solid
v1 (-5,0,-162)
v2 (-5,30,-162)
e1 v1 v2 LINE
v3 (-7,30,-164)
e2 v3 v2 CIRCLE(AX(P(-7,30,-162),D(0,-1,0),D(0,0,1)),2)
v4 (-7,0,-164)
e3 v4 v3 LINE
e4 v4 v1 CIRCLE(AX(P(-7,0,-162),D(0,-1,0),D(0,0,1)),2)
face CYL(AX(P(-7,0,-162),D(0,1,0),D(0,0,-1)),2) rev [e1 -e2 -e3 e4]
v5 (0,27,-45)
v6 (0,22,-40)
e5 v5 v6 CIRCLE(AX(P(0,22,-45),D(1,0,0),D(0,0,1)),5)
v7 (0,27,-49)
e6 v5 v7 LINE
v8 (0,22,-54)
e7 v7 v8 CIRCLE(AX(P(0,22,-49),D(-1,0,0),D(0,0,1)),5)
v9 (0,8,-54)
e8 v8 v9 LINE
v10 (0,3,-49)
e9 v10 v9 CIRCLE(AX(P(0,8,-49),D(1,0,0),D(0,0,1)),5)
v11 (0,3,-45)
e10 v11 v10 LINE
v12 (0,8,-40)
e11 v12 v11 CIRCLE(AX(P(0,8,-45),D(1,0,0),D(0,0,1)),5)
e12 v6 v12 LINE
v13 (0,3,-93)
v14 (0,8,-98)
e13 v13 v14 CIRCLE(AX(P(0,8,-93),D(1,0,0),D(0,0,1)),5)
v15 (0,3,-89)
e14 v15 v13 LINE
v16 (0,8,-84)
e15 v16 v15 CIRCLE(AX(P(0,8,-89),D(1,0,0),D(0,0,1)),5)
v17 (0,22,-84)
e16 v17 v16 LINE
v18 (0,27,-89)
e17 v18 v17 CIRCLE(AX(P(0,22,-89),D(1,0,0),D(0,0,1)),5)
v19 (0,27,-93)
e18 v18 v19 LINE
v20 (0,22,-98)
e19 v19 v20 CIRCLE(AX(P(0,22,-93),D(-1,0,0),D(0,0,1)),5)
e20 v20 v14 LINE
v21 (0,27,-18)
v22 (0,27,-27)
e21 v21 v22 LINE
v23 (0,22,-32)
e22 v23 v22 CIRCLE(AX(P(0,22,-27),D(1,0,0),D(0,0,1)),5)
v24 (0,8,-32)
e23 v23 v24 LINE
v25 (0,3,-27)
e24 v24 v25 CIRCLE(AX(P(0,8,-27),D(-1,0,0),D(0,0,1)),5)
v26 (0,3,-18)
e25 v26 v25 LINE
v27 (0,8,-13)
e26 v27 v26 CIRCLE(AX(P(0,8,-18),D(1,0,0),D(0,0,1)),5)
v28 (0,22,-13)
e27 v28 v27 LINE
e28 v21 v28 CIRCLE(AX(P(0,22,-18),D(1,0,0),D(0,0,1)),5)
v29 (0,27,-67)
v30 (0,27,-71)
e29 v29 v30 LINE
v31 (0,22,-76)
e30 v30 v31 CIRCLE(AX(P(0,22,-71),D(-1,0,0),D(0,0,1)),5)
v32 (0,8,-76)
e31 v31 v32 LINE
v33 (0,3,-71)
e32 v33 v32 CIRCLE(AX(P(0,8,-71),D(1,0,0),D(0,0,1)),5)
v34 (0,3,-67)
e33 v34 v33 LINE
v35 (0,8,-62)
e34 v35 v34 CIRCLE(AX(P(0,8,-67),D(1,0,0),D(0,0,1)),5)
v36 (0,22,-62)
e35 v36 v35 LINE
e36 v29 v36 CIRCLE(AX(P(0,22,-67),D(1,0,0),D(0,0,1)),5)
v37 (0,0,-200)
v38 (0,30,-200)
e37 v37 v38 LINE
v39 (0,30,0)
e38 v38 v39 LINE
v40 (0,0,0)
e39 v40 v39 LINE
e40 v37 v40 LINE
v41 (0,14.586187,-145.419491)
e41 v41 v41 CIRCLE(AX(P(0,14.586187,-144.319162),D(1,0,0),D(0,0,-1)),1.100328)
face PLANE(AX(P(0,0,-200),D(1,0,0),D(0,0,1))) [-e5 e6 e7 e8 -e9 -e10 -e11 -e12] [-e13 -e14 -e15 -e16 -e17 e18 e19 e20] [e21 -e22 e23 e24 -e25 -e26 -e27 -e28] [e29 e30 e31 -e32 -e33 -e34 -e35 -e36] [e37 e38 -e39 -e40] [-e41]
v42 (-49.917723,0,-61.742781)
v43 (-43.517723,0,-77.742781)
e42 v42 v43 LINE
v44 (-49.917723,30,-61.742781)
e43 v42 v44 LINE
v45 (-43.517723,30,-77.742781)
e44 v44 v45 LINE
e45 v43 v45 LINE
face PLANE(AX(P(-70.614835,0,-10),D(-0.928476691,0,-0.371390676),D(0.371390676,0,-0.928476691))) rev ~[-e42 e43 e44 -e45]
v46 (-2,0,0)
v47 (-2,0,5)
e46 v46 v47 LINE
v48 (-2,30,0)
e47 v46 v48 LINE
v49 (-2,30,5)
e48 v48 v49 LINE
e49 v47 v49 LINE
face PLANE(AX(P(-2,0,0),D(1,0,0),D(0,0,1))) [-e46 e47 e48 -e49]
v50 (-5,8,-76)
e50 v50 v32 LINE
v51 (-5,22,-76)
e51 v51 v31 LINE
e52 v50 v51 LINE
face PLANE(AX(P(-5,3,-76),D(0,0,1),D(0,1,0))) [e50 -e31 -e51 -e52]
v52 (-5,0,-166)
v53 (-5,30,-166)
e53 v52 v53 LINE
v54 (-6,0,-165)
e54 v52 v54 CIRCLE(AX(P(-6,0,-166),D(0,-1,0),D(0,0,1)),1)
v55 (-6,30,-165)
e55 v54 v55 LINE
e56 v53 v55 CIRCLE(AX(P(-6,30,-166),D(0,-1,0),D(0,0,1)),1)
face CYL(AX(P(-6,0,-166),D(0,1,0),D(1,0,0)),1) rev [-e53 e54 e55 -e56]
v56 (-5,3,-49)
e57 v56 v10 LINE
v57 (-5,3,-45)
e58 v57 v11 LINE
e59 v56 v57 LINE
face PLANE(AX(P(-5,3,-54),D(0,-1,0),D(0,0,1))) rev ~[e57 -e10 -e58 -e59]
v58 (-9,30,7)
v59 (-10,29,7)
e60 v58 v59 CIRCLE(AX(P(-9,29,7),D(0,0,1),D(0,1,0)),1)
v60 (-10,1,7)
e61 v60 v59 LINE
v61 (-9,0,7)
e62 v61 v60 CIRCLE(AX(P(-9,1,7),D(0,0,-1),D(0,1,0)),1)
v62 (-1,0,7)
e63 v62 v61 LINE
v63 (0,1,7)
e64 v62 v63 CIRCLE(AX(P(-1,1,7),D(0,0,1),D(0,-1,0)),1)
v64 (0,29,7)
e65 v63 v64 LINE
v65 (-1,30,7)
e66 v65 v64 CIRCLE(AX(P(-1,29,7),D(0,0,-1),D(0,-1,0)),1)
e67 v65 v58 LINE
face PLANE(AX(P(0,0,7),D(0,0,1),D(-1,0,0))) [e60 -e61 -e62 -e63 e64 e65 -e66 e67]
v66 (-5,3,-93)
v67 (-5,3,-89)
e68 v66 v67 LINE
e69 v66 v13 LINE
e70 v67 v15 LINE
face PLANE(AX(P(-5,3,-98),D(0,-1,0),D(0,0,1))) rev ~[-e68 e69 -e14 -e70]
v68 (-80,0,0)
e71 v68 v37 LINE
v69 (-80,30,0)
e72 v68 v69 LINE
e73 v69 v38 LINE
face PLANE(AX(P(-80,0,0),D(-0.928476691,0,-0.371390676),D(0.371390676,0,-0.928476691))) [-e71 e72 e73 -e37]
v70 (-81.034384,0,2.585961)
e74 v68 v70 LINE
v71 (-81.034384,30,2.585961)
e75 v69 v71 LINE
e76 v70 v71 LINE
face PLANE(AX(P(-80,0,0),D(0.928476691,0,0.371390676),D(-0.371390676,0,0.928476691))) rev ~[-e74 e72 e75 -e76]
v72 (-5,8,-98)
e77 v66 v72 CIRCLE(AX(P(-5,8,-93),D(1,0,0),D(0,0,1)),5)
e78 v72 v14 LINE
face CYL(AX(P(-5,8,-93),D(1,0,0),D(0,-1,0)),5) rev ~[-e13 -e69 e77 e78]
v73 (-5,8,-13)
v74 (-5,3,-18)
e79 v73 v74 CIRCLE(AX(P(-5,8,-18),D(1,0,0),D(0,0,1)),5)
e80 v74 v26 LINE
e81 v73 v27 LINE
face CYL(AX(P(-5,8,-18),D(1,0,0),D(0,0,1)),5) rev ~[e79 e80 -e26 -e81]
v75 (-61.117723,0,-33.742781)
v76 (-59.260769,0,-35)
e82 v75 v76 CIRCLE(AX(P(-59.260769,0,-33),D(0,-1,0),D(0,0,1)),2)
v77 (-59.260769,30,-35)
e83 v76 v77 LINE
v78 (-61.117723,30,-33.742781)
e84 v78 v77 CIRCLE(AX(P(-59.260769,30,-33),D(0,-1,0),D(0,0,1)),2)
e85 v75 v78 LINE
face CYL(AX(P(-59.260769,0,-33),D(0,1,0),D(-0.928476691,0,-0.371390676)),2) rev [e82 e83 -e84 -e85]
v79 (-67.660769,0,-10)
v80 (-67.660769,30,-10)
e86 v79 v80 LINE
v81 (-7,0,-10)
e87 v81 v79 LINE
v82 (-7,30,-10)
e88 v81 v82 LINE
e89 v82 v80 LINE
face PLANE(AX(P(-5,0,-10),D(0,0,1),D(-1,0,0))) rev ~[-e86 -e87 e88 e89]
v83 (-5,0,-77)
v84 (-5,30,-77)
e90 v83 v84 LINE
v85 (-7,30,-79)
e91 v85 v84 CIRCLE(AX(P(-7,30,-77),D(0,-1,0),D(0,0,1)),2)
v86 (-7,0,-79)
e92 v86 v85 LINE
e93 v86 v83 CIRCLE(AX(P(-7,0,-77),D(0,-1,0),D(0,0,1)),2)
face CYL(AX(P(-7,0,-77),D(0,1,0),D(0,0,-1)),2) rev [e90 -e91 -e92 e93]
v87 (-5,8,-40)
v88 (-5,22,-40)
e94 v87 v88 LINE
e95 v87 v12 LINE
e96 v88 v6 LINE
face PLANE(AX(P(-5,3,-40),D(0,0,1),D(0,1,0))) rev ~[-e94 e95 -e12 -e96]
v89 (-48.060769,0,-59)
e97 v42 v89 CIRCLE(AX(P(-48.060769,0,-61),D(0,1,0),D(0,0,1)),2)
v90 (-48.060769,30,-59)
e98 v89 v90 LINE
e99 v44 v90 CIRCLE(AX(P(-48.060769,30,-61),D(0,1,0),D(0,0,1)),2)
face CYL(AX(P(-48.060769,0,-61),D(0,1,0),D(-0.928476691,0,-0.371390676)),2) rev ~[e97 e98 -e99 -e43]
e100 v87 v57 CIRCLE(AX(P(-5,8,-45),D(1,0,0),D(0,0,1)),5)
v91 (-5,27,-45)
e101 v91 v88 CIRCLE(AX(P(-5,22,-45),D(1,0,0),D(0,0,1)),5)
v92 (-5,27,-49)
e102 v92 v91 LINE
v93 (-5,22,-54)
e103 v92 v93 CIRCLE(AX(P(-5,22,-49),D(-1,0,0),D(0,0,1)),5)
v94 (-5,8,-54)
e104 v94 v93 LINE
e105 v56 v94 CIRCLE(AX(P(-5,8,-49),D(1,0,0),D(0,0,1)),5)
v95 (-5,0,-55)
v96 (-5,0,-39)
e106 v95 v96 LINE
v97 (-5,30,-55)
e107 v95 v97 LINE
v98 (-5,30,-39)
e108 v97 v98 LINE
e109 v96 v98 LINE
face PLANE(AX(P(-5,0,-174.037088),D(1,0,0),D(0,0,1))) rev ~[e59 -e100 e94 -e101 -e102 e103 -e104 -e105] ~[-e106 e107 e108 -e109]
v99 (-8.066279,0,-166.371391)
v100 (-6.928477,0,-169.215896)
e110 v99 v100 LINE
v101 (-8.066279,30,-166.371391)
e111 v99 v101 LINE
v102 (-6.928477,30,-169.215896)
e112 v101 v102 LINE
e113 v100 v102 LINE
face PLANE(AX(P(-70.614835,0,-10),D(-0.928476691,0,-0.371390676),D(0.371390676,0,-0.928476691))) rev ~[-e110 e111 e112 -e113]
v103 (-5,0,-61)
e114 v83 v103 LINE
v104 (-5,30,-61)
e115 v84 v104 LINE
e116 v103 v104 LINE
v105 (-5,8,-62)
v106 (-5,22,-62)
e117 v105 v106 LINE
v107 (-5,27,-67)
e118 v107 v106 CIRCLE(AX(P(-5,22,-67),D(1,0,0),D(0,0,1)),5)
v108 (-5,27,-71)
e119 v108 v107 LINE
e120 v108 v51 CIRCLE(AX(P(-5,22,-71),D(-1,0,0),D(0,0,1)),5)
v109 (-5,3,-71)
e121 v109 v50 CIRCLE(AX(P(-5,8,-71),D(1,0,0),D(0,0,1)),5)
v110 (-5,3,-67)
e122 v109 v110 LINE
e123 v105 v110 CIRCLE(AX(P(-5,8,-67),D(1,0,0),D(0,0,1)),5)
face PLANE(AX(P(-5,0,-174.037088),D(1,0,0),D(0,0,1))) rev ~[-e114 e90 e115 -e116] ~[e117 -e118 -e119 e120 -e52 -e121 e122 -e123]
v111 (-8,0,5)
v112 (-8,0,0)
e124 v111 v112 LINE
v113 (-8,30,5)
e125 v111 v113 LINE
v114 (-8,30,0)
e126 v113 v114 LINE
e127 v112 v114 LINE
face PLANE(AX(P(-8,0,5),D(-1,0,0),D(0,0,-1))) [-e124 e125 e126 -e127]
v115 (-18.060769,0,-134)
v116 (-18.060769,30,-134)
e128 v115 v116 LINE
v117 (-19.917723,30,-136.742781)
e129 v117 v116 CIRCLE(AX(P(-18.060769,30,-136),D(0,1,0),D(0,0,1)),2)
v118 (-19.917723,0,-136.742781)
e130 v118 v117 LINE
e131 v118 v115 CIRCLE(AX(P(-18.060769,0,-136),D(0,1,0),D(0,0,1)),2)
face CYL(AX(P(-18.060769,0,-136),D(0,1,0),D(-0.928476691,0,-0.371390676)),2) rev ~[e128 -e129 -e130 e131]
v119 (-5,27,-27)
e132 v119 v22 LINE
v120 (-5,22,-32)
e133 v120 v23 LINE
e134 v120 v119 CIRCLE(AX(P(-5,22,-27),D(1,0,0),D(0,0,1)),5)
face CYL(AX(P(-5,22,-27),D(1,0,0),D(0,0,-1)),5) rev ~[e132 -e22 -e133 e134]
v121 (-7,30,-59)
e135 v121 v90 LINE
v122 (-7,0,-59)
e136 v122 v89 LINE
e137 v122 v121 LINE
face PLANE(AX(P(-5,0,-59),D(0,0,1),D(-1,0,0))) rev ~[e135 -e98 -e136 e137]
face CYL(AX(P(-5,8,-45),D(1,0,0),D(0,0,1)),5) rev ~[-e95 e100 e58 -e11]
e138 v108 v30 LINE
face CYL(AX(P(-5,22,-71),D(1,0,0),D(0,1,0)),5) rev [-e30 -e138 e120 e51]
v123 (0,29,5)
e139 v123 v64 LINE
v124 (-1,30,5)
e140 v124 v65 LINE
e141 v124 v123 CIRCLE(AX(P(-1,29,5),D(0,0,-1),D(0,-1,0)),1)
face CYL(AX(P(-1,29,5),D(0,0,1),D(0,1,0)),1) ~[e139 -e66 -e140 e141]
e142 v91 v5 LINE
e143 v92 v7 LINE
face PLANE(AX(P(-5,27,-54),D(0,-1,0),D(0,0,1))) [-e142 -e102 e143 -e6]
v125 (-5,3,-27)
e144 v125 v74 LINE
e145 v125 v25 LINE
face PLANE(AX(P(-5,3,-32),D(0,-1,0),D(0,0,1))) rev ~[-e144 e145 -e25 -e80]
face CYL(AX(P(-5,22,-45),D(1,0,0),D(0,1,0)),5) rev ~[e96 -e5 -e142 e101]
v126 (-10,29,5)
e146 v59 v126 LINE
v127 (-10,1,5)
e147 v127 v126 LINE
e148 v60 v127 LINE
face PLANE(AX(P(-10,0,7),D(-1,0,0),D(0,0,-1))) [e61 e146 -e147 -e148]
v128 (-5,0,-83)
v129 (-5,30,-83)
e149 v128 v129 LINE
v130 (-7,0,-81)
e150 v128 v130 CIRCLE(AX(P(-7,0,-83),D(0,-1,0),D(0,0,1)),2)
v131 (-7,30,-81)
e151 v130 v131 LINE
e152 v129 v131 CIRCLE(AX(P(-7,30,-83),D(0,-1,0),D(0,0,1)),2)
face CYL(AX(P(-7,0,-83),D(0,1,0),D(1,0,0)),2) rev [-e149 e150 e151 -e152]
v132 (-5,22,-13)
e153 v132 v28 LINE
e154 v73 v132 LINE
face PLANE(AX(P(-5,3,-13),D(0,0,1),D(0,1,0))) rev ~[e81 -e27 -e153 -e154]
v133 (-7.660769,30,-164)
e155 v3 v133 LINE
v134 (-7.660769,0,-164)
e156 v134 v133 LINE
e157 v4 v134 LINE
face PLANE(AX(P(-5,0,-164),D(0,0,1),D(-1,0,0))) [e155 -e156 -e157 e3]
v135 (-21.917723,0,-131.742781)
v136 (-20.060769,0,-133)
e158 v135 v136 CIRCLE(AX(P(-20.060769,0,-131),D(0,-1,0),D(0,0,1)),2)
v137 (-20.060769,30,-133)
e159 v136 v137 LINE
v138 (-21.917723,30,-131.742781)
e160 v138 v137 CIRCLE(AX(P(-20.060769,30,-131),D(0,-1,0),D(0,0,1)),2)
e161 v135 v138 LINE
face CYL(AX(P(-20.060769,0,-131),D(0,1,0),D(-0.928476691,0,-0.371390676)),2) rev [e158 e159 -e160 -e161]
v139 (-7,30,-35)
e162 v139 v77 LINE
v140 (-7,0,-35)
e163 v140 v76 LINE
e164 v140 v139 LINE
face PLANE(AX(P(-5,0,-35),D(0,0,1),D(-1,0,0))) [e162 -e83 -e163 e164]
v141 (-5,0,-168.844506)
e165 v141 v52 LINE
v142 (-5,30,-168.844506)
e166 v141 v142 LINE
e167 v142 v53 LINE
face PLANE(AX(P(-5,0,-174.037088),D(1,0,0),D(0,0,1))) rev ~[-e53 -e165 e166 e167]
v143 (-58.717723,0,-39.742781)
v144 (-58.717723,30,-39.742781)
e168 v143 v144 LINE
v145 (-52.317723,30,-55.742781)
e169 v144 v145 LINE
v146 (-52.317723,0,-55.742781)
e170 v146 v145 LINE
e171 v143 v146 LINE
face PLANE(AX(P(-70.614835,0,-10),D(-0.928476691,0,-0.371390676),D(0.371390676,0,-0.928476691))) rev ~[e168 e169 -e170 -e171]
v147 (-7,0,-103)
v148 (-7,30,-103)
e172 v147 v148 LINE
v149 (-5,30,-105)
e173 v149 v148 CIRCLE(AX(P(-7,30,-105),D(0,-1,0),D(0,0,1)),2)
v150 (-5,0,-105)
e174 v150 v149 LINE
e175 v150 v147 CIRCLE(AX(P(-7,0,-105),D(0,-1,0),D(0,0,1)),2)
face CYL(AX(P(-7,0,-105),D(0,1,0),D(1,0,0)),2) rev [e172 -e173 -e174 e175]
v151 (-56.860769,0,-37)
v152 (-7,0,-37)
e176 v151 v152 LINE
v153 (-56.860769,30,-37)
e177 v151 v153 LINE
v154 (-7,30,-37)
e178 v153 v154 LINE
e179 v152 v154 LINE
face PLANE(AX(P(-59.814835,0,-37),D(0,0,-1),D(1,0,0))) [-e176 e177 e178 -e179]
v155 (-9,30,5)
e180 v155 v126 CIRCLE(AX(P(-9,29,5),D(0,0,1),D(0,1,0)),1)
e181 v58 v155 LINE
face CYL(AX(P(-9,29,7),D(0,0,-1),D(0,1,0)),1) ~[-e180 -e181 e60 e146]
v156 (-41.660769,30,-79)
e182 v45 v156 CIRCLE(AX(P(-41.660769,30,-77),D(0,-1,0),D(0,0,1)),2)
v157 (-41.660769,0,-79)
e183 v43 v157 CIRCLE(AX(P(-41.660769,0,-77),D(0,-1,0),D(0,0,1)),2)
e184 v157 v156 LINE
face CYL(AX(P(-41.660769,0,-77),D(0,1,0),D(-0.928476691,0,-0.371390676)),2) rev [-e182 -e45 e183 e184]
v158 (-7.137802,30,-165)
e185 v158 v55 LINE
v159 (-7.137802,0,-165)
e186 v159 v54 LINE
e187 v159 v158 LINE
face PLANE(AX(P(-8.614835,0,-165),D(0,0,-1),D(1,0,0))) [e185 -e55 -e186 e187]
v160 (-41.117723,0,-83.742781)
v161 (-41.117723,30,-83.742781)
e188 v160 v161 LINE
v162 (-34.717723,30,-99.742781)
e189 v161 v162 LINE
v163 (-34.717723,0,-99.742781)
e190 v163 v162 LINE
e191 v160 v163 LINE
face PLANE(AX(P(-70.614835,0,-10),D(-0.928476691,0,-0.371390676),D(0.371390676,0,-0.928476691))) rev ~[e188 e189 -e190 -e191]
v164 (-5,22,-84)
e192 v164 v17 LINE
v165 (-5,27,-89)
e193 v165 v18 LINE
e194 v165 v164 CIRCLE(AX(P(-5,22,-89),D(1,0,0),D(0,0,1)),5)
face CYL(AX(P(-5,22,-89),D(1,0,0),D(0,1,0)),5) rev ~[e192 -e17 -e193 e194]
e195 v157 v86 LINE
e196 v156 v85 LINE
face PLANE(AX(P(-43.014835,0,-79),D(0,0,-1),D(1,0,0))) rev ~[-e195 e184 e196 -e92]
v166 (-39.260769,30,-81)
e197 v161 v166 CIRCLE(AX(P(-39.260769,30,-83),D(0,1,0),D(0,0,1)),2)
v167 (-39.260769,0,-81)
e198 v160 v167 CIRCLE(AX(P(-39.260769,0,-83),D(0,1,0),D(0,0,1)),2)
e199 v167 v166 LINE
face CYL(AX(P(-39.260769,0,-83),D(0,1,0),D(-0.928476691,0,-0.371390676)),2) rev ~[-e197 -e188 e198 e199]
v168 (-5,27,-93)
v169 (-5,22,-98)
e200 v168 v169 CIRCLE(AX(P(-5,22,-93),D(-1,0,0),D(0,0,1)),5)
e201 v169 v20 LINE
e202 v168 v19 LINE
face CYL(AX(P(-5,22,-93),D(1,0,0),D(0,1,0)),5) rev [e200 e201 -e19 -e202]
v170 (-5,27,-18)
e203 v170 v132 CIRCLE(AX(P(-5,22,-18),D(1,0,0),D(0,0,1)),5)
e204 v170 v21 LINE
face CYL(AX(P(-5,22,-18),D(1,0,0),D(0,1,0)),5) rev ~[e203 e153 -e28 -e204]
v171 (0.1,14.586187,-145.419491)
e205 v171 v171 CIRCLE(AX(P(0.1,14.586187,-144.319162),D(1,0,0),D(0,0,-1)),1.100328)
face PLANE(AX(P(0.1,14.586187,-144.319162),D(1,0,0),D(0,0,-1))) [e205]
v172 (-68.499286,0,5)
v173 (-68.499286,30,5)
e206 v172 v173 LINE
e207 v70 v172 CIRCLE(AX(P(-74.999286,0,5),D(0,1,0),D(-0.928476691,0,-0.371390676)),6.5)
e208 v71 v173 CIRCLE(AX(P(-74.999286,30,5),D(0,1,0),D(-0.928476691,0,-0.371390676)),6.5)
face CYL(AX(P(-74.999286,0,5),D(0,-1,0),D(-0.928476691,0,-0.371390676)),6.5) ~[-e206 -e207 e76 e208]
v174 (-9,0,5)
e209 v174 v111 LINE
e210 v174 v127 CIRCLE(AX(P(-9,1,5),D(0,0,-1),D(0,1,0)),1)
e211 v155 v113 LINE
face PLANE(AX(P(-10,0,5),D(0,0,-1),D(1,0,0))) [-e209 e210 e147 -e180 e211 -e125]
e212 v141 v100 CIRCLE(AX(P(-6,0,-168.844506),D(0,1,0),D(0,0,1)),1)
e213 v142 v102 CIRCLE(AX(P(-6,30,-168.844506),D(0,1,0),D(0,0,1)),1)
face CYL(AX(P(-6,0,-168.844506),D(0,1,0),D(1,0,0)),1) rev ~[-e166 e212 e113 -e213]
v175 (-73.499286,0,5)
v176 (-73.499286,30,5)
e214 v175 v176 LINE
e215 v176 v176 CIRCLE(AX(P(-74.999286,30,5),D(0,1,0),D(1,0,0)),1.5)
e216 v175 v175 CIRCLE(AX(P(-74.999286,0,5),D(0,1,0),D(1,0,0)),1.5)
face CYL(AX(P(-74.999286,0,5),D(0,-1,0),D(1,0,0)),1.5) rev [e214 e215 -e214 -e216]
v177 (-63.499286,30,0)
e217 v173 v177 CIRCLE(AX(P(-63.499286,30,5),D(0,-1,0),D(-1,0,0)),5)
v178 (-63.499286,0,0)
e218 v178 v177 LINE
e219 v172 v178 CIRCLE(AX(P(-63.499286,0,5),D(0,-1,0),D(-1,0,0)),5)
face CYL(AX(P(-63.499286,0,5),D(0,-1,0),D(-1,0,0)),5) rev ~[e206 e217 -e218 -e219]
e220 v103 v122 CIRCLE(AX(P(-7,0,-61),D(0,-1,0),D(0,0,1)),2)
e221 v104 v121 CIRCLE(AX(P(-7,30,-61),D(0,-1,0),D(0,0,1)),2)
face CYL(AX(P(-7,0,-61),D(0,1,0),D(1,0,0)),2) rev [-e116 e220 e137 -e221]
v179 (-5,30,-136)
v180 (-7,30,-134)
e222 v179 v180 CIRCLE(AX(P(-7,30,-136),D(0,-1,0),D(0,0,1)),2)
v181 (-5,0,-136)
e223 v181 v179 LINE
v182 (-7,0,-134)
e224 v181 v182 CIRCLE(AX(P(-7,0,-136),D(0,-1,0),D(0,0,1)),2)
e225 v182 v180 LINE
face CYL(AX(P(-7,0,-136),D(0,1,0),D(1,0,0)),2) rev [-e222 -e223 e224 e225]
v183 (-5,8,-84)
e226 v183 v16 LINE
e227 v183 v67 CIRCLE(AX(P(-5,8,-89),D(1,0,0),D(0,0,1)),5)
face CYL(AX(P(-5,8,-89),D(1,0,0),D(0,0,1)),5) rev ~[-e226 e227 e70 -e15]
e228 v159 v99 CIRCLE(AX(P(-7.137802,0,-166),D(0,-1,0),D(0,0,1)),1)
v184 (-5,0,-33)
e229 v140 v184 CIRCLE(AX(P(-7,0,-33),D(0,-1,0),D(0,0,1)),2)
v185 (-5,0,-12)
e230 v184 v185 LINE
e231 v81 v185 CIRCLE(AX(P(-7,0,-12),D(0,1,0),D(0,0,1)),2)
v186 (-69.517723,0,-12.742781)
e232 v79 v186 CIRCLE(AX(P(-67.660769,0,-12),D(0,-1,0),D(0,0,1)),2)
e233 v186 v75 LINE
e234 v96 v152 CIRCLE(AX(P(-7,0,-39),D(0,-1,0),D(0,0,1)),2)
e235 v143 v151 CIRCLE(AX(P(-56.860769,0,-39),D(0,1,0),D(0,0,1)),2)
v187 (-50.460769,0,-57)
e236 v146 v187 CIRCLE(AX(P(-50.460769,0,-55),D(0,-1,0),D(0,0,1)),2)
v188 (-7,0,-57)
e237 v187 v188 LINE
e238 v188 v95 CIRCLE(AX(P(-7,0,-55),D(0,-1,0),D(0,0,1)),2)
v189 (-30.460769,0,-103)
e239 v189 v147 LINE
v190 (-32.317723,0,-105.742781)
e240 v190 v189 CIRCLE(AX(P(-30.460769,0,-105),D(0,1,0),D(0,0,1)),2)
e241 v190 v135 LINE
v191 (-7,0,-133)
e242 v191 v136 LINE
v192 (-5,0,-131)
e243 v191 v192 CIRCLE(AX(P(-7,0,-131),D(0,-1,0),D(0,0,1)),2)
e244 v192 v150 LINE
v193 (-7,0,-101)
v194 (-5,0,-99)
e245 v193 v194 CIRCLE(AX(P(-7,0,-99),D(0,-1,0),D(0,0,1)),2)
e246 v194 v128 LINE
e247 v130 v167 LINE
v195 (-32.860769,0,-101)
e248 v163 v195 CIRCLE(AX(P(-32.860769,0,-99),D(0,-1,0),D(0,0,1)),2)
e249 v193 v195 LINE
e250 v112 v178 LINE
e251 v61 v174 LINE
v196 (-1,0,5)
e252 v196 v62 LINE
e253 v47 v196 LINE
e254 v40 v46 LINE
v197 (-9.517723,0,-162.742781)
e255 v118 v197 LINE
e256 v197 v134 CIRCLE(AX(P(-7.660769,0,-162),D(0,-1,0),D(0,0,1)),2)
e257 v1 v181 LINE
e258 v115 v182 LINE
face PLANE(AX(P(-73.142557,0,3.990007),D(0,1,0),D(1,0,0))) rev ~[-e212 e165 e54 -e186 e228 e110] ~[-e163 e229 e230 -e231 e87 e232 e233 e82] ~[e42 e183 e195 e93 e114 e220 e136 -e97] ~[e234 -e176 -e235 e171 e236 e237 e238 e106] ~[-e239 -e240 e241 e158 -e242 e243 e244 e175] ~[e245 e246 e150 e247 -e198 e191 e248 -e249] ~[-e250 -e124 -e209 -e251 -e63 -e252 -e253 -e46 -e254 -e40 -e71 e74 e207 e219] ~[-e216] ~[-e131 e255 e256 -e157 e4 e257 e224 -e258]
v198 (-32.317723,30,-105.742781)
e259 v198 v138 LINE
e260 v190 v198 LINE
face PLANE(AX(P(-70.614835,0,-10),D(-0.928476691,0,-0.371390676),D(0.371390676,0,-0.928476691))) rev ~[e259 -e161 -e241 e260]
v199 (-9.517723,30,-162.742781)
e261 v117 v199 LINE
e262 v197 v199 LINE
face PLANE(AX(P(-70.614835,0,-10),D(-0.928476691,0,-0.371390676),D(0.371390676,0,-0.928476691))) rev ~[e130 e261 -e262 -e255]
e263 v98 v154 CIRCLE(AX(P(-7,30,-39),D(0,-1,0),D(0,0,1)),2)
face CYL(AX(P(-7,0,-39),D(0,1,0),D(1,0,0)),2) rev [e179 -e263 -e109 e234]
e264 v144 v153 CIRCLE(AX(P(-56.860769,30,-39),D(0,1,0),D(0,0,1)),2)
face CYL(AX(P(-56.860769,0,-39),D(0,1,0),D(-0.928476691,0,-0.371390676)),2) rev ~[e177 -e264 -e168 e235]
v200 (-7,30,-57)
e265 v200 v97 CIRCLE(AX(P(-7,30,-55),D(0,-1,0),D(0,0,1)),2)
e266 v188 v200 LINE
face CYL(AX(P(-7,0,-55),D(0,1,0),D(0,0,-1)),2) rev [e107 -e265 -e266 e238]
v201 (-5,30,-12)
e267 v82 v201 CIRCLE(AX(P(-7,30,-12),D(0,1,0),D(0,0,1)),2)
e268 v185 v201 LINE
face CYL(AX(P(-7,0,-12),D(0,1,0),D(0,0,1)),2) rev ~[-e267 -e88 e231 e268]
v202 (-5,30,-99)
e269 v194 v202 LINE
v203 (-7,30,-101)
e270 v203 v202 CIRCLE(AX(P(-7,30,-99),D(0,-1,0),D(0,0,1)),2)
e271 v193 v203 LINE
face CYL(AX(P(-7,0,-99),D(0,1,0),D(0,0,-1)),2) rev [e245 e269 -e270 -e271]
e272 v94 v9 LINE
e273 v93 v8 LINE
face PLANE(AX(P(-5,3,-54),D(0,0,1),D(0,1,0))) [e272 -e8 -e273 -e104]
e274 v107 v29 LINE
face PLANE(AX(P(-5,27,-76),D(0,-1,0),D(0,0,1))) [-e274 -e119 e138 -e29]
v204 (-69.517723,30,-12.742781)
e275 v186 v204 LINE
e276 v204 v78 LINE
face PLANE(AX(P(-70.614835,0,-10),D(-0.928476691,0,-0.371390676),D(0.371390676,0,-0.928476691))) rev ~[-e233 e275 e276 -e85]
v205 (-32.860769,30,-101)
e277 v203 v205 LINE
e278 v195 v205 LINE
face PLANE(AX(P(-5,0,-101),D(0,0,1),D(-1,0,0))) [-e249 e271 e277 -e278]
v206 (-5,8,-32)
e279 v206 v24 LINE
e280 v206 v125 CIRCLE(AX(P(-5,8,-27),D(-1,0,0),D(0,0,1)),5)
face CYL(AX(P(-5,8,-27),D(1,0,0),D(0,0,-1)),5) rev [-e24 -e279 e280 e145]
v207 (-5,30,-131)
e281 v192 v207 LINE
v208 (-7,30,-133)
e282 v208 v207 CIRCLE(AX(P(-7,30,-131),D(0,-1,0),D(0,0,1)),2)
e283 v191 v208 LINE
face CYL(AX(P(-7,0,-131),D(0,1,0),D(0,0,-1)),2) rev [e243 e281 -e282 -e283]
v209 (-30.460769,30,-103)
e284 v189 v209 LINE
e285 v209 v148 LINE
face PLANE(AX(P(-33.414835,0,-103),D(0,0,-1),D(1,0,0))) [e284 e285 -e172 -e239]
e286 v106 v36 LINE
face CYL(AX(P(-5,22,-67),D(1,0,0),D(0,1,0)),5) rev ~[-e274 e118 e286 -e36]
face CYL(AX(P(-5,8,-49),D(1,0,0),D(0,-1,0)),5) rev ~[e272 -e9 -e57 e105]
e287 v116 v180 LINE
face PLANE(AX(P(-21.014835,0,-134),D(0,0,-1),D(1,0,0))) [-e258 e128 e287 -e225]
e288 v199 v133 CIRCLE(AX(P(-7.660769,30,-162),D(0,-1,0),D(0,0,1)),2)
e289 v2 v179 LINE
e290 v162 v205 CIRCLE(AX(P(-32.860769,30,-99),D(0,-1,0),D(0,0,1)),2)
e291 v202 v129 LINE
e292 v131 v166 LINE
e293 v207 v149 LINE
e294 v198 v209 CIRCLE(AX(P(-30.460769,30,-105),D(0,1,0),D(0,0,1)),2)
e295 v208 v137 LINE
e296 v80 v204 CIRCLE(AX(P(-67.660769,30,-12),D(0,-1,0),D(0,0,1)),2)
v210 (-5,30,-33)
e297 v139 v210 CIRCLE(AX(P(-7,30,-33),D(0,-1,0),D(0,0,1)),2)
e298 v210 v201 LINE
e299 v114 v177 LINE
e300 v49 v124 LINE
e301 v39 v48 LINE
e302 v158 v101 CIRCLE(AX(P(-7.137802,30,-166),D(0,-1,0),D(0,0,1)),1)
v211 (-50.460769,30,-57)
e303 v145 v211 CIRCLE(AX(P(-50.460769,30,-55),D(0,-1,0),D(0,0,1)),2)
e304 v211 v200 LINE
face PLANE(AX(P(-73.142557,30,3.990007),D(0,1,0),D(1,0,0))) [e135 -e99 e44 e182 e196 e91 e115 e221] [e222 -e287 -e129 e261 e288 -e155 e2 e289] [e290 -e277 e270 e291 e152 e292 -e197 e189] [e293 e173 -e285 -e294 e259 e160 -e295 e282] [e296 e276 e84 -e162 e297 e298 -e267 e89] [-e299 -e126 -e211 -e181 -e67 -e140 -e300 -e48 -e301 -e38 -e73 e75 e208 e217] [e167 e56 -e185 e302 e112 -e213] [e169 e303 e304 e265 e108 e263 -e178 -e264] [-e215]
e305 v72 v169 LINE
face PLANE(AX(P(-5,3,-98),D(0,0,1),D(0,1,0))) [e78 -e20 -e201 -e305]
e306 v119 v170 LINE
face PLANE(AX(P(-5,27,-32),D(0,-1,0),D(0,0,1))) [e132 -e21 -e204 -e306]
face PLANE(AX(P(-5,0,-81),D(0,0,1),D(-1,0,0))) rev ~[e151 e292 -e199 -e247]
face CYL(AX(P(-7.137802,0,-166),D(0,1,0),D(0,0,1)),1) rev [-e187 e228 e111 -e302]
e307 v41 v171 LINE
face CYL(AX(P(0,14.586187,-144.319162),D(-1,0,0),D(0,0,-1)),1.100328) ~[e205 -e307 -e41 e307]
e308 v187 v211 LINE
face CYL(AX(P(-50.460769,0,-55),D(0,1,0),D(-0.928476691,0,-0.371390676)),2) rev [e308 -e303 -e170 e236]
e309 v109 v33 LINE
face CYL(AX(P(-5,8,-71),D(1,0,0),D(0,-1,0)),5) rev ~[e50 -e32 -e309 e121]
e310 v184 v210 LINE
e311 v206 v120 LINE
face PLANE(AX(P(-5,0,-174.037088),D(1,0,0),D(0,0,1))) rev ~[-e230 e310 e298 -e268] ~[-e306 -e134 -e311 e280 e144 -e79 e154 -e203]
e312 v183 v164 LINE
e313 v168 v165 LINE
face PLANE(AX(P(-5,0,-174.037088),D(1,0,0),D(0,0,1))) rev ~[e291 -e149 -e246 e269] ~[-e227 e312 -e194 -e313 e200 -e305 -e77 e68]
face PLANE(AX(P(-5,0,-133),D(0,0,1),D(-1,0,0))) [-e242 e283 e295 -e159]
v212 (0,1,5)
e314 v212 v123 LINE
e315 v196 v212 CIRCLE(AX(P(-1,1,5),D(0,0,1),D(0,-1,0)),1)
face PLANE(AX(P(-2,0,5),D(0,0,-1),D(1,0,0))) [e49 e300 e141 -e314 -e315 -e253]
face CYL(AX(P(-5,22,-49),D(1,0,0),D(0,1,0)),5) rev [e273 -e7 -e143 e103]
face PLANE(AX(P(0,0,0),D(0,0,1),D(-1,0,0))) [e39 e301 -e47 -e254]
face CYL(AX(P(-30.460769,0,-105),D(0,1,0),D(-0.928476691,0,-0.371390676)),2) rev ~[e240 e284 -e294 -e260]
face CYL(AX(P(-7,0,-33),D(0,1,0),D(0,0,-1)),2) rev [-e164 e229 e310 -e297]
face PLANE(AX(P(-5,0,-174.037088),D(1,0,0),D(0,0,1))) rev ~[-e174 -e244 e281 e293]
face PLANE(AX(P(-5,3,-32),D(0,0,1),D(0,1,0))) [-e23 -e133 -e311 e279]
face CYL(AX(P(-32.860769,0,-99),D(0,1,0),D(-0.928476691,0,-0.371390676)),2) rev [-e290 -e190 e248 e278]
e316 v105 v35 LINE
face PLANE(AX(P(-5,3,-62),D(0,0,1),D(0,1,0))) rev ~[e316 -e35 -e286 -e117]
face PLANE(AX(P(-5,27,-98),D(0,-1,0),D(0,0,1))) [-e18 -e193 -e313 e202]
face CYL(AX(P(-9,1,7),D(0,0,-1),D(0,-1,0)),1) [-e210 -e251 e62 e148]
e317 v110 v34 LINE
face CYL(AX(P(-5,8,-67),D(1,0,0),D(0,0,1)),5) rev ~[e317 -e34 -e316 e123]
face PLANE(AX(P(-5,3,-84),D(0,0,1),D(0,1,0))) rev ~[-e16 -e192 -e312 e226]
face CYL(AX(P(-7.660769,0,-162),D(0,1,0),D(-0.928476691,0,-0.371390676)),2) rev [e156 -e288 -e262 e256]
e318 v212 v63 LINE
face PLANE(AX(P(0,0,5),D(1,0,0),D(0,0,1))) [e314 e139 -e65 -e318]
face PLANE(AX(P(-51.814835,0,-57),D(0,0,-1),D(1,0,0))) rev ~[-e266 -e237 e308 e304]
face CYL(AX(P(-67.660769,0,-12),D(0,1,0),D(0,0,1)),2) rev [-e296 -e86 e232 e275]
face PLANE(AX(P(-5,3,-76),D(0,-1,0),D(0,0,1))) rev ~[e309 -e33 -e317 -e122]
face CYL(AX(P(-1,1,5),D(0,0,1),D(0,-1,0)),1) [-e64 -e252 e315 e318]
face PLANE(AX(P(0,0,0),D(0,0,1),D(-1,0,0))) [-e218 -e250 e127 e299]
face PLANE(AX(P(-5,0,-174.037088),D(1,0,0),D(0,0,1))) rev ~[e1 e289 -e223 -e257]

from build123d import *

# Parameters (mm, degrees)
BOSS_EXTRUDE1_DEPTH = 30
BOSS_EXTRUDE2_DEPTH = 30
SKETCH3_R           = 1.5
BOSS_EXTRUDE3_DEPTH = 30
SKETCH4_R           = 1.100328426
BOSS_EXTRUDE4_DEPTH = 0.1
SKETCH5_W           = 14
SKETCH5_H           = 24
SKETCH5_W_2         = 19
CUT_EXTRUDE1_DEPTH  = 6.1
FILLET1_R           = 2
FILLET2_R           = 1
FILLET3_R           = 5
FILLET4_R           = 1


with BuildPart() as part:
    # Sketch1 → Boss-Extrude1 (new body)
    with BuildSketch(Plane(origin=(0, 0, 0), x_dir=(1, 0, 0), z_dir=(0, 1, 0))):
        Polygon((0, 0), (-80, 0), (0, 200), align=None)
        Polygon((-5, 10), (-70.614835193, 10), (-5, 174.037087982), align=None, mode=Mode.SUBTRACT)
    extrude(amount=BOSS_EXTRUDE1_DEPTH)

    # Sketch2 → Boss-Extrude2 (add)
    with BuildSketch(Plane(origin=(0, 0, 0), x_dir=(1, 0, 0), z_dir=(0, 1, 0))):
        Polygon((-5, 35), (-60.614835193, 35), (-59.814835193, 37), (-5, 37), align=None)
        Polygon((-51.014835193, 59), (-51.814835193, 57), (-5, 57), (-5, 59), align=None)
        Polygon((-43.014835193, 79), (-5, 79), (-5, 81), (-42.214835193, 81), align=None)
        Polygon((-34.214835193, 101), (-33.414835193, 103), (-5, 103), (-5, 101), align=None)
        Polygon((-21.414835193, 133), (-21.014835193, 134), (-5, 134), (-5, 133), align=None)
        Polygon((-9.014835193, 164), (-8.614835193, 165), (-5, 165), (-5, 164), align=None)
    extrude(amount=BOSS_EXTRUDE2_DEPTH)

    # Sketch3 → Boss-Extrude3 (add)
    with BuildSketch(Plane(origin=(0, 0, 0), x_dir=(1, 0, 0), z_dir=(0, 1, 0))):
        Polygon((-2, 0), (-2, -5), (0, -5), (0, -7), (-10, -7), (-10, -5), (-8, -5), (-8, 0), align=None)
        with BuildLine():
            Line((-80, 0), (-81.034384241, -2.585960604))
            ThreePointArc((-81.034384241, -2.585960604), (-76.228484638, -11.382716514), (-68.499285751, -5))
            ThreePointArc((-68.499285751, -5), (-67.034819657, -1.464466094), (-63.499285751, 0))
            Line((-63.499285751, 0), (-80, 0))
        make_face()
        with Locations((-74.999285751, -5)):
            Circle(SKETCH3_R, mode=Mode.SUBTRACT)
    extrude(amount=BOSS_EXTRUDE3_DEPTH)

    # Sketch4 → Boss-Extrude4 (add)
    with BuildSketch(Plane(origin=(0, 0, 0), x_dir=(0, 0, -1), z_dir=(1, 0, 0))):
        with Locations((144.319162345, 14.586186638)):
            Circle(SKETCH4_R)
    extrude(amount=BOSS_EXTRUDE4_DEPTH)

    # Sketch5 → Cut-Extrude1 (cut, through all)
    with BuildSketch(Plane.ZY.offset(5)):
        with Locations((-91, 15)):
            Rectangle(SKETCH5_W, SKETCH5_H)
        with Locations((-69, 15)):
            Rectangle(SKETCH5_W, SKETCH5_H)
        with Locations((-47, 15)):
            Rectangle(SKETCH5_W, SKETCH5_H)
        with Locations((-22.5, 15)):
            Rectangle(SKETCH5_W_2, SKETCH5_H)
    extrude(amount=-CUT_EXTRUDE1_DEPTH, mode=Mode.SUBTRACT)

    # Fillet1
    fillet1_edges = [part.edges().sort_by_distance(p)[0] for p in [
        (-5, 15, -10),
        (-70.614835193, 15, -10),
        (-60.614835193, 15, -35),
        (-59.814835193, 15, -37),
        (-5, 15, -37),
        (-5, 15, -35),
        (-5, 15, -57),
        (-51.814835193, 15, -57),
        (-51.014835193, 15, -59),
        (-5, 15, -59),
        (-5, 15, -81),
        (-5, 15, -79),
        (-43.014835193, 15, -79),
        (-42.214835193, 15, -81),
        (-33.414835193, 15, -103),
        (-5, 15, -103),
        (-5, 15, -101),
        (-34.214835193, 15, -101),
        (-21.014835193, 15, -134),
        (-5, 15, -134),
        (-5, 15, -133),
        (-21.414835193, 15, -133),
        (-5, 15, -164),
        (-9.014835193, 15, -164),
    ]]
    fillet(fillet1_edges, radius=FILLET1_R)

    # Fillet2
    fillet2_edges = [part.edges().sort_by_distance(p)[0] for p in [
        (-5, 15, -174.037087982),
        (-8.614835193, 15, -165),
        (-5, 15, -165),
    ]]
    fillet(fillet2_edges, radius=FILLET2_R)

    # Fillet3
    fillet3_edges = [part.edges().sort_by_distance(p)[0] for p in [
        (-2.5, 27, -84),
        (-2.5, 3, -84),
        (-2.5, 3, -98),
        (-2.5, 27, -98),
        (-2.5, 27, -62),
        (-2.5, 3, -62),
        (-2.5, 3, -76),
        (-2.5, 27, -76),
        (-2.5, 27, -40),
        (-2.5, 3, -40),
        (-2.5, 3, -54),
        (-2.5, 27, -54),
        (-2.5, 27, -13),
        (-2.5, 3, -13),
        (-2.5, 3, -32),
        (-2.5, 27, -32),
    ]]
    fillet(fillet3_edges, radius=FILLET3_R)

    # Fillet4
    fillet4_edges = [part.edges().sort_by_distance(p)[0] for p in [
        (0, 30, 6),
        (0, 0, 6),
        (-10, 30, 6),
        (-10, 0, 6),
    ]]
    fillet(fillet4_edges, radius=FILLET4_R)


solid = part.part
